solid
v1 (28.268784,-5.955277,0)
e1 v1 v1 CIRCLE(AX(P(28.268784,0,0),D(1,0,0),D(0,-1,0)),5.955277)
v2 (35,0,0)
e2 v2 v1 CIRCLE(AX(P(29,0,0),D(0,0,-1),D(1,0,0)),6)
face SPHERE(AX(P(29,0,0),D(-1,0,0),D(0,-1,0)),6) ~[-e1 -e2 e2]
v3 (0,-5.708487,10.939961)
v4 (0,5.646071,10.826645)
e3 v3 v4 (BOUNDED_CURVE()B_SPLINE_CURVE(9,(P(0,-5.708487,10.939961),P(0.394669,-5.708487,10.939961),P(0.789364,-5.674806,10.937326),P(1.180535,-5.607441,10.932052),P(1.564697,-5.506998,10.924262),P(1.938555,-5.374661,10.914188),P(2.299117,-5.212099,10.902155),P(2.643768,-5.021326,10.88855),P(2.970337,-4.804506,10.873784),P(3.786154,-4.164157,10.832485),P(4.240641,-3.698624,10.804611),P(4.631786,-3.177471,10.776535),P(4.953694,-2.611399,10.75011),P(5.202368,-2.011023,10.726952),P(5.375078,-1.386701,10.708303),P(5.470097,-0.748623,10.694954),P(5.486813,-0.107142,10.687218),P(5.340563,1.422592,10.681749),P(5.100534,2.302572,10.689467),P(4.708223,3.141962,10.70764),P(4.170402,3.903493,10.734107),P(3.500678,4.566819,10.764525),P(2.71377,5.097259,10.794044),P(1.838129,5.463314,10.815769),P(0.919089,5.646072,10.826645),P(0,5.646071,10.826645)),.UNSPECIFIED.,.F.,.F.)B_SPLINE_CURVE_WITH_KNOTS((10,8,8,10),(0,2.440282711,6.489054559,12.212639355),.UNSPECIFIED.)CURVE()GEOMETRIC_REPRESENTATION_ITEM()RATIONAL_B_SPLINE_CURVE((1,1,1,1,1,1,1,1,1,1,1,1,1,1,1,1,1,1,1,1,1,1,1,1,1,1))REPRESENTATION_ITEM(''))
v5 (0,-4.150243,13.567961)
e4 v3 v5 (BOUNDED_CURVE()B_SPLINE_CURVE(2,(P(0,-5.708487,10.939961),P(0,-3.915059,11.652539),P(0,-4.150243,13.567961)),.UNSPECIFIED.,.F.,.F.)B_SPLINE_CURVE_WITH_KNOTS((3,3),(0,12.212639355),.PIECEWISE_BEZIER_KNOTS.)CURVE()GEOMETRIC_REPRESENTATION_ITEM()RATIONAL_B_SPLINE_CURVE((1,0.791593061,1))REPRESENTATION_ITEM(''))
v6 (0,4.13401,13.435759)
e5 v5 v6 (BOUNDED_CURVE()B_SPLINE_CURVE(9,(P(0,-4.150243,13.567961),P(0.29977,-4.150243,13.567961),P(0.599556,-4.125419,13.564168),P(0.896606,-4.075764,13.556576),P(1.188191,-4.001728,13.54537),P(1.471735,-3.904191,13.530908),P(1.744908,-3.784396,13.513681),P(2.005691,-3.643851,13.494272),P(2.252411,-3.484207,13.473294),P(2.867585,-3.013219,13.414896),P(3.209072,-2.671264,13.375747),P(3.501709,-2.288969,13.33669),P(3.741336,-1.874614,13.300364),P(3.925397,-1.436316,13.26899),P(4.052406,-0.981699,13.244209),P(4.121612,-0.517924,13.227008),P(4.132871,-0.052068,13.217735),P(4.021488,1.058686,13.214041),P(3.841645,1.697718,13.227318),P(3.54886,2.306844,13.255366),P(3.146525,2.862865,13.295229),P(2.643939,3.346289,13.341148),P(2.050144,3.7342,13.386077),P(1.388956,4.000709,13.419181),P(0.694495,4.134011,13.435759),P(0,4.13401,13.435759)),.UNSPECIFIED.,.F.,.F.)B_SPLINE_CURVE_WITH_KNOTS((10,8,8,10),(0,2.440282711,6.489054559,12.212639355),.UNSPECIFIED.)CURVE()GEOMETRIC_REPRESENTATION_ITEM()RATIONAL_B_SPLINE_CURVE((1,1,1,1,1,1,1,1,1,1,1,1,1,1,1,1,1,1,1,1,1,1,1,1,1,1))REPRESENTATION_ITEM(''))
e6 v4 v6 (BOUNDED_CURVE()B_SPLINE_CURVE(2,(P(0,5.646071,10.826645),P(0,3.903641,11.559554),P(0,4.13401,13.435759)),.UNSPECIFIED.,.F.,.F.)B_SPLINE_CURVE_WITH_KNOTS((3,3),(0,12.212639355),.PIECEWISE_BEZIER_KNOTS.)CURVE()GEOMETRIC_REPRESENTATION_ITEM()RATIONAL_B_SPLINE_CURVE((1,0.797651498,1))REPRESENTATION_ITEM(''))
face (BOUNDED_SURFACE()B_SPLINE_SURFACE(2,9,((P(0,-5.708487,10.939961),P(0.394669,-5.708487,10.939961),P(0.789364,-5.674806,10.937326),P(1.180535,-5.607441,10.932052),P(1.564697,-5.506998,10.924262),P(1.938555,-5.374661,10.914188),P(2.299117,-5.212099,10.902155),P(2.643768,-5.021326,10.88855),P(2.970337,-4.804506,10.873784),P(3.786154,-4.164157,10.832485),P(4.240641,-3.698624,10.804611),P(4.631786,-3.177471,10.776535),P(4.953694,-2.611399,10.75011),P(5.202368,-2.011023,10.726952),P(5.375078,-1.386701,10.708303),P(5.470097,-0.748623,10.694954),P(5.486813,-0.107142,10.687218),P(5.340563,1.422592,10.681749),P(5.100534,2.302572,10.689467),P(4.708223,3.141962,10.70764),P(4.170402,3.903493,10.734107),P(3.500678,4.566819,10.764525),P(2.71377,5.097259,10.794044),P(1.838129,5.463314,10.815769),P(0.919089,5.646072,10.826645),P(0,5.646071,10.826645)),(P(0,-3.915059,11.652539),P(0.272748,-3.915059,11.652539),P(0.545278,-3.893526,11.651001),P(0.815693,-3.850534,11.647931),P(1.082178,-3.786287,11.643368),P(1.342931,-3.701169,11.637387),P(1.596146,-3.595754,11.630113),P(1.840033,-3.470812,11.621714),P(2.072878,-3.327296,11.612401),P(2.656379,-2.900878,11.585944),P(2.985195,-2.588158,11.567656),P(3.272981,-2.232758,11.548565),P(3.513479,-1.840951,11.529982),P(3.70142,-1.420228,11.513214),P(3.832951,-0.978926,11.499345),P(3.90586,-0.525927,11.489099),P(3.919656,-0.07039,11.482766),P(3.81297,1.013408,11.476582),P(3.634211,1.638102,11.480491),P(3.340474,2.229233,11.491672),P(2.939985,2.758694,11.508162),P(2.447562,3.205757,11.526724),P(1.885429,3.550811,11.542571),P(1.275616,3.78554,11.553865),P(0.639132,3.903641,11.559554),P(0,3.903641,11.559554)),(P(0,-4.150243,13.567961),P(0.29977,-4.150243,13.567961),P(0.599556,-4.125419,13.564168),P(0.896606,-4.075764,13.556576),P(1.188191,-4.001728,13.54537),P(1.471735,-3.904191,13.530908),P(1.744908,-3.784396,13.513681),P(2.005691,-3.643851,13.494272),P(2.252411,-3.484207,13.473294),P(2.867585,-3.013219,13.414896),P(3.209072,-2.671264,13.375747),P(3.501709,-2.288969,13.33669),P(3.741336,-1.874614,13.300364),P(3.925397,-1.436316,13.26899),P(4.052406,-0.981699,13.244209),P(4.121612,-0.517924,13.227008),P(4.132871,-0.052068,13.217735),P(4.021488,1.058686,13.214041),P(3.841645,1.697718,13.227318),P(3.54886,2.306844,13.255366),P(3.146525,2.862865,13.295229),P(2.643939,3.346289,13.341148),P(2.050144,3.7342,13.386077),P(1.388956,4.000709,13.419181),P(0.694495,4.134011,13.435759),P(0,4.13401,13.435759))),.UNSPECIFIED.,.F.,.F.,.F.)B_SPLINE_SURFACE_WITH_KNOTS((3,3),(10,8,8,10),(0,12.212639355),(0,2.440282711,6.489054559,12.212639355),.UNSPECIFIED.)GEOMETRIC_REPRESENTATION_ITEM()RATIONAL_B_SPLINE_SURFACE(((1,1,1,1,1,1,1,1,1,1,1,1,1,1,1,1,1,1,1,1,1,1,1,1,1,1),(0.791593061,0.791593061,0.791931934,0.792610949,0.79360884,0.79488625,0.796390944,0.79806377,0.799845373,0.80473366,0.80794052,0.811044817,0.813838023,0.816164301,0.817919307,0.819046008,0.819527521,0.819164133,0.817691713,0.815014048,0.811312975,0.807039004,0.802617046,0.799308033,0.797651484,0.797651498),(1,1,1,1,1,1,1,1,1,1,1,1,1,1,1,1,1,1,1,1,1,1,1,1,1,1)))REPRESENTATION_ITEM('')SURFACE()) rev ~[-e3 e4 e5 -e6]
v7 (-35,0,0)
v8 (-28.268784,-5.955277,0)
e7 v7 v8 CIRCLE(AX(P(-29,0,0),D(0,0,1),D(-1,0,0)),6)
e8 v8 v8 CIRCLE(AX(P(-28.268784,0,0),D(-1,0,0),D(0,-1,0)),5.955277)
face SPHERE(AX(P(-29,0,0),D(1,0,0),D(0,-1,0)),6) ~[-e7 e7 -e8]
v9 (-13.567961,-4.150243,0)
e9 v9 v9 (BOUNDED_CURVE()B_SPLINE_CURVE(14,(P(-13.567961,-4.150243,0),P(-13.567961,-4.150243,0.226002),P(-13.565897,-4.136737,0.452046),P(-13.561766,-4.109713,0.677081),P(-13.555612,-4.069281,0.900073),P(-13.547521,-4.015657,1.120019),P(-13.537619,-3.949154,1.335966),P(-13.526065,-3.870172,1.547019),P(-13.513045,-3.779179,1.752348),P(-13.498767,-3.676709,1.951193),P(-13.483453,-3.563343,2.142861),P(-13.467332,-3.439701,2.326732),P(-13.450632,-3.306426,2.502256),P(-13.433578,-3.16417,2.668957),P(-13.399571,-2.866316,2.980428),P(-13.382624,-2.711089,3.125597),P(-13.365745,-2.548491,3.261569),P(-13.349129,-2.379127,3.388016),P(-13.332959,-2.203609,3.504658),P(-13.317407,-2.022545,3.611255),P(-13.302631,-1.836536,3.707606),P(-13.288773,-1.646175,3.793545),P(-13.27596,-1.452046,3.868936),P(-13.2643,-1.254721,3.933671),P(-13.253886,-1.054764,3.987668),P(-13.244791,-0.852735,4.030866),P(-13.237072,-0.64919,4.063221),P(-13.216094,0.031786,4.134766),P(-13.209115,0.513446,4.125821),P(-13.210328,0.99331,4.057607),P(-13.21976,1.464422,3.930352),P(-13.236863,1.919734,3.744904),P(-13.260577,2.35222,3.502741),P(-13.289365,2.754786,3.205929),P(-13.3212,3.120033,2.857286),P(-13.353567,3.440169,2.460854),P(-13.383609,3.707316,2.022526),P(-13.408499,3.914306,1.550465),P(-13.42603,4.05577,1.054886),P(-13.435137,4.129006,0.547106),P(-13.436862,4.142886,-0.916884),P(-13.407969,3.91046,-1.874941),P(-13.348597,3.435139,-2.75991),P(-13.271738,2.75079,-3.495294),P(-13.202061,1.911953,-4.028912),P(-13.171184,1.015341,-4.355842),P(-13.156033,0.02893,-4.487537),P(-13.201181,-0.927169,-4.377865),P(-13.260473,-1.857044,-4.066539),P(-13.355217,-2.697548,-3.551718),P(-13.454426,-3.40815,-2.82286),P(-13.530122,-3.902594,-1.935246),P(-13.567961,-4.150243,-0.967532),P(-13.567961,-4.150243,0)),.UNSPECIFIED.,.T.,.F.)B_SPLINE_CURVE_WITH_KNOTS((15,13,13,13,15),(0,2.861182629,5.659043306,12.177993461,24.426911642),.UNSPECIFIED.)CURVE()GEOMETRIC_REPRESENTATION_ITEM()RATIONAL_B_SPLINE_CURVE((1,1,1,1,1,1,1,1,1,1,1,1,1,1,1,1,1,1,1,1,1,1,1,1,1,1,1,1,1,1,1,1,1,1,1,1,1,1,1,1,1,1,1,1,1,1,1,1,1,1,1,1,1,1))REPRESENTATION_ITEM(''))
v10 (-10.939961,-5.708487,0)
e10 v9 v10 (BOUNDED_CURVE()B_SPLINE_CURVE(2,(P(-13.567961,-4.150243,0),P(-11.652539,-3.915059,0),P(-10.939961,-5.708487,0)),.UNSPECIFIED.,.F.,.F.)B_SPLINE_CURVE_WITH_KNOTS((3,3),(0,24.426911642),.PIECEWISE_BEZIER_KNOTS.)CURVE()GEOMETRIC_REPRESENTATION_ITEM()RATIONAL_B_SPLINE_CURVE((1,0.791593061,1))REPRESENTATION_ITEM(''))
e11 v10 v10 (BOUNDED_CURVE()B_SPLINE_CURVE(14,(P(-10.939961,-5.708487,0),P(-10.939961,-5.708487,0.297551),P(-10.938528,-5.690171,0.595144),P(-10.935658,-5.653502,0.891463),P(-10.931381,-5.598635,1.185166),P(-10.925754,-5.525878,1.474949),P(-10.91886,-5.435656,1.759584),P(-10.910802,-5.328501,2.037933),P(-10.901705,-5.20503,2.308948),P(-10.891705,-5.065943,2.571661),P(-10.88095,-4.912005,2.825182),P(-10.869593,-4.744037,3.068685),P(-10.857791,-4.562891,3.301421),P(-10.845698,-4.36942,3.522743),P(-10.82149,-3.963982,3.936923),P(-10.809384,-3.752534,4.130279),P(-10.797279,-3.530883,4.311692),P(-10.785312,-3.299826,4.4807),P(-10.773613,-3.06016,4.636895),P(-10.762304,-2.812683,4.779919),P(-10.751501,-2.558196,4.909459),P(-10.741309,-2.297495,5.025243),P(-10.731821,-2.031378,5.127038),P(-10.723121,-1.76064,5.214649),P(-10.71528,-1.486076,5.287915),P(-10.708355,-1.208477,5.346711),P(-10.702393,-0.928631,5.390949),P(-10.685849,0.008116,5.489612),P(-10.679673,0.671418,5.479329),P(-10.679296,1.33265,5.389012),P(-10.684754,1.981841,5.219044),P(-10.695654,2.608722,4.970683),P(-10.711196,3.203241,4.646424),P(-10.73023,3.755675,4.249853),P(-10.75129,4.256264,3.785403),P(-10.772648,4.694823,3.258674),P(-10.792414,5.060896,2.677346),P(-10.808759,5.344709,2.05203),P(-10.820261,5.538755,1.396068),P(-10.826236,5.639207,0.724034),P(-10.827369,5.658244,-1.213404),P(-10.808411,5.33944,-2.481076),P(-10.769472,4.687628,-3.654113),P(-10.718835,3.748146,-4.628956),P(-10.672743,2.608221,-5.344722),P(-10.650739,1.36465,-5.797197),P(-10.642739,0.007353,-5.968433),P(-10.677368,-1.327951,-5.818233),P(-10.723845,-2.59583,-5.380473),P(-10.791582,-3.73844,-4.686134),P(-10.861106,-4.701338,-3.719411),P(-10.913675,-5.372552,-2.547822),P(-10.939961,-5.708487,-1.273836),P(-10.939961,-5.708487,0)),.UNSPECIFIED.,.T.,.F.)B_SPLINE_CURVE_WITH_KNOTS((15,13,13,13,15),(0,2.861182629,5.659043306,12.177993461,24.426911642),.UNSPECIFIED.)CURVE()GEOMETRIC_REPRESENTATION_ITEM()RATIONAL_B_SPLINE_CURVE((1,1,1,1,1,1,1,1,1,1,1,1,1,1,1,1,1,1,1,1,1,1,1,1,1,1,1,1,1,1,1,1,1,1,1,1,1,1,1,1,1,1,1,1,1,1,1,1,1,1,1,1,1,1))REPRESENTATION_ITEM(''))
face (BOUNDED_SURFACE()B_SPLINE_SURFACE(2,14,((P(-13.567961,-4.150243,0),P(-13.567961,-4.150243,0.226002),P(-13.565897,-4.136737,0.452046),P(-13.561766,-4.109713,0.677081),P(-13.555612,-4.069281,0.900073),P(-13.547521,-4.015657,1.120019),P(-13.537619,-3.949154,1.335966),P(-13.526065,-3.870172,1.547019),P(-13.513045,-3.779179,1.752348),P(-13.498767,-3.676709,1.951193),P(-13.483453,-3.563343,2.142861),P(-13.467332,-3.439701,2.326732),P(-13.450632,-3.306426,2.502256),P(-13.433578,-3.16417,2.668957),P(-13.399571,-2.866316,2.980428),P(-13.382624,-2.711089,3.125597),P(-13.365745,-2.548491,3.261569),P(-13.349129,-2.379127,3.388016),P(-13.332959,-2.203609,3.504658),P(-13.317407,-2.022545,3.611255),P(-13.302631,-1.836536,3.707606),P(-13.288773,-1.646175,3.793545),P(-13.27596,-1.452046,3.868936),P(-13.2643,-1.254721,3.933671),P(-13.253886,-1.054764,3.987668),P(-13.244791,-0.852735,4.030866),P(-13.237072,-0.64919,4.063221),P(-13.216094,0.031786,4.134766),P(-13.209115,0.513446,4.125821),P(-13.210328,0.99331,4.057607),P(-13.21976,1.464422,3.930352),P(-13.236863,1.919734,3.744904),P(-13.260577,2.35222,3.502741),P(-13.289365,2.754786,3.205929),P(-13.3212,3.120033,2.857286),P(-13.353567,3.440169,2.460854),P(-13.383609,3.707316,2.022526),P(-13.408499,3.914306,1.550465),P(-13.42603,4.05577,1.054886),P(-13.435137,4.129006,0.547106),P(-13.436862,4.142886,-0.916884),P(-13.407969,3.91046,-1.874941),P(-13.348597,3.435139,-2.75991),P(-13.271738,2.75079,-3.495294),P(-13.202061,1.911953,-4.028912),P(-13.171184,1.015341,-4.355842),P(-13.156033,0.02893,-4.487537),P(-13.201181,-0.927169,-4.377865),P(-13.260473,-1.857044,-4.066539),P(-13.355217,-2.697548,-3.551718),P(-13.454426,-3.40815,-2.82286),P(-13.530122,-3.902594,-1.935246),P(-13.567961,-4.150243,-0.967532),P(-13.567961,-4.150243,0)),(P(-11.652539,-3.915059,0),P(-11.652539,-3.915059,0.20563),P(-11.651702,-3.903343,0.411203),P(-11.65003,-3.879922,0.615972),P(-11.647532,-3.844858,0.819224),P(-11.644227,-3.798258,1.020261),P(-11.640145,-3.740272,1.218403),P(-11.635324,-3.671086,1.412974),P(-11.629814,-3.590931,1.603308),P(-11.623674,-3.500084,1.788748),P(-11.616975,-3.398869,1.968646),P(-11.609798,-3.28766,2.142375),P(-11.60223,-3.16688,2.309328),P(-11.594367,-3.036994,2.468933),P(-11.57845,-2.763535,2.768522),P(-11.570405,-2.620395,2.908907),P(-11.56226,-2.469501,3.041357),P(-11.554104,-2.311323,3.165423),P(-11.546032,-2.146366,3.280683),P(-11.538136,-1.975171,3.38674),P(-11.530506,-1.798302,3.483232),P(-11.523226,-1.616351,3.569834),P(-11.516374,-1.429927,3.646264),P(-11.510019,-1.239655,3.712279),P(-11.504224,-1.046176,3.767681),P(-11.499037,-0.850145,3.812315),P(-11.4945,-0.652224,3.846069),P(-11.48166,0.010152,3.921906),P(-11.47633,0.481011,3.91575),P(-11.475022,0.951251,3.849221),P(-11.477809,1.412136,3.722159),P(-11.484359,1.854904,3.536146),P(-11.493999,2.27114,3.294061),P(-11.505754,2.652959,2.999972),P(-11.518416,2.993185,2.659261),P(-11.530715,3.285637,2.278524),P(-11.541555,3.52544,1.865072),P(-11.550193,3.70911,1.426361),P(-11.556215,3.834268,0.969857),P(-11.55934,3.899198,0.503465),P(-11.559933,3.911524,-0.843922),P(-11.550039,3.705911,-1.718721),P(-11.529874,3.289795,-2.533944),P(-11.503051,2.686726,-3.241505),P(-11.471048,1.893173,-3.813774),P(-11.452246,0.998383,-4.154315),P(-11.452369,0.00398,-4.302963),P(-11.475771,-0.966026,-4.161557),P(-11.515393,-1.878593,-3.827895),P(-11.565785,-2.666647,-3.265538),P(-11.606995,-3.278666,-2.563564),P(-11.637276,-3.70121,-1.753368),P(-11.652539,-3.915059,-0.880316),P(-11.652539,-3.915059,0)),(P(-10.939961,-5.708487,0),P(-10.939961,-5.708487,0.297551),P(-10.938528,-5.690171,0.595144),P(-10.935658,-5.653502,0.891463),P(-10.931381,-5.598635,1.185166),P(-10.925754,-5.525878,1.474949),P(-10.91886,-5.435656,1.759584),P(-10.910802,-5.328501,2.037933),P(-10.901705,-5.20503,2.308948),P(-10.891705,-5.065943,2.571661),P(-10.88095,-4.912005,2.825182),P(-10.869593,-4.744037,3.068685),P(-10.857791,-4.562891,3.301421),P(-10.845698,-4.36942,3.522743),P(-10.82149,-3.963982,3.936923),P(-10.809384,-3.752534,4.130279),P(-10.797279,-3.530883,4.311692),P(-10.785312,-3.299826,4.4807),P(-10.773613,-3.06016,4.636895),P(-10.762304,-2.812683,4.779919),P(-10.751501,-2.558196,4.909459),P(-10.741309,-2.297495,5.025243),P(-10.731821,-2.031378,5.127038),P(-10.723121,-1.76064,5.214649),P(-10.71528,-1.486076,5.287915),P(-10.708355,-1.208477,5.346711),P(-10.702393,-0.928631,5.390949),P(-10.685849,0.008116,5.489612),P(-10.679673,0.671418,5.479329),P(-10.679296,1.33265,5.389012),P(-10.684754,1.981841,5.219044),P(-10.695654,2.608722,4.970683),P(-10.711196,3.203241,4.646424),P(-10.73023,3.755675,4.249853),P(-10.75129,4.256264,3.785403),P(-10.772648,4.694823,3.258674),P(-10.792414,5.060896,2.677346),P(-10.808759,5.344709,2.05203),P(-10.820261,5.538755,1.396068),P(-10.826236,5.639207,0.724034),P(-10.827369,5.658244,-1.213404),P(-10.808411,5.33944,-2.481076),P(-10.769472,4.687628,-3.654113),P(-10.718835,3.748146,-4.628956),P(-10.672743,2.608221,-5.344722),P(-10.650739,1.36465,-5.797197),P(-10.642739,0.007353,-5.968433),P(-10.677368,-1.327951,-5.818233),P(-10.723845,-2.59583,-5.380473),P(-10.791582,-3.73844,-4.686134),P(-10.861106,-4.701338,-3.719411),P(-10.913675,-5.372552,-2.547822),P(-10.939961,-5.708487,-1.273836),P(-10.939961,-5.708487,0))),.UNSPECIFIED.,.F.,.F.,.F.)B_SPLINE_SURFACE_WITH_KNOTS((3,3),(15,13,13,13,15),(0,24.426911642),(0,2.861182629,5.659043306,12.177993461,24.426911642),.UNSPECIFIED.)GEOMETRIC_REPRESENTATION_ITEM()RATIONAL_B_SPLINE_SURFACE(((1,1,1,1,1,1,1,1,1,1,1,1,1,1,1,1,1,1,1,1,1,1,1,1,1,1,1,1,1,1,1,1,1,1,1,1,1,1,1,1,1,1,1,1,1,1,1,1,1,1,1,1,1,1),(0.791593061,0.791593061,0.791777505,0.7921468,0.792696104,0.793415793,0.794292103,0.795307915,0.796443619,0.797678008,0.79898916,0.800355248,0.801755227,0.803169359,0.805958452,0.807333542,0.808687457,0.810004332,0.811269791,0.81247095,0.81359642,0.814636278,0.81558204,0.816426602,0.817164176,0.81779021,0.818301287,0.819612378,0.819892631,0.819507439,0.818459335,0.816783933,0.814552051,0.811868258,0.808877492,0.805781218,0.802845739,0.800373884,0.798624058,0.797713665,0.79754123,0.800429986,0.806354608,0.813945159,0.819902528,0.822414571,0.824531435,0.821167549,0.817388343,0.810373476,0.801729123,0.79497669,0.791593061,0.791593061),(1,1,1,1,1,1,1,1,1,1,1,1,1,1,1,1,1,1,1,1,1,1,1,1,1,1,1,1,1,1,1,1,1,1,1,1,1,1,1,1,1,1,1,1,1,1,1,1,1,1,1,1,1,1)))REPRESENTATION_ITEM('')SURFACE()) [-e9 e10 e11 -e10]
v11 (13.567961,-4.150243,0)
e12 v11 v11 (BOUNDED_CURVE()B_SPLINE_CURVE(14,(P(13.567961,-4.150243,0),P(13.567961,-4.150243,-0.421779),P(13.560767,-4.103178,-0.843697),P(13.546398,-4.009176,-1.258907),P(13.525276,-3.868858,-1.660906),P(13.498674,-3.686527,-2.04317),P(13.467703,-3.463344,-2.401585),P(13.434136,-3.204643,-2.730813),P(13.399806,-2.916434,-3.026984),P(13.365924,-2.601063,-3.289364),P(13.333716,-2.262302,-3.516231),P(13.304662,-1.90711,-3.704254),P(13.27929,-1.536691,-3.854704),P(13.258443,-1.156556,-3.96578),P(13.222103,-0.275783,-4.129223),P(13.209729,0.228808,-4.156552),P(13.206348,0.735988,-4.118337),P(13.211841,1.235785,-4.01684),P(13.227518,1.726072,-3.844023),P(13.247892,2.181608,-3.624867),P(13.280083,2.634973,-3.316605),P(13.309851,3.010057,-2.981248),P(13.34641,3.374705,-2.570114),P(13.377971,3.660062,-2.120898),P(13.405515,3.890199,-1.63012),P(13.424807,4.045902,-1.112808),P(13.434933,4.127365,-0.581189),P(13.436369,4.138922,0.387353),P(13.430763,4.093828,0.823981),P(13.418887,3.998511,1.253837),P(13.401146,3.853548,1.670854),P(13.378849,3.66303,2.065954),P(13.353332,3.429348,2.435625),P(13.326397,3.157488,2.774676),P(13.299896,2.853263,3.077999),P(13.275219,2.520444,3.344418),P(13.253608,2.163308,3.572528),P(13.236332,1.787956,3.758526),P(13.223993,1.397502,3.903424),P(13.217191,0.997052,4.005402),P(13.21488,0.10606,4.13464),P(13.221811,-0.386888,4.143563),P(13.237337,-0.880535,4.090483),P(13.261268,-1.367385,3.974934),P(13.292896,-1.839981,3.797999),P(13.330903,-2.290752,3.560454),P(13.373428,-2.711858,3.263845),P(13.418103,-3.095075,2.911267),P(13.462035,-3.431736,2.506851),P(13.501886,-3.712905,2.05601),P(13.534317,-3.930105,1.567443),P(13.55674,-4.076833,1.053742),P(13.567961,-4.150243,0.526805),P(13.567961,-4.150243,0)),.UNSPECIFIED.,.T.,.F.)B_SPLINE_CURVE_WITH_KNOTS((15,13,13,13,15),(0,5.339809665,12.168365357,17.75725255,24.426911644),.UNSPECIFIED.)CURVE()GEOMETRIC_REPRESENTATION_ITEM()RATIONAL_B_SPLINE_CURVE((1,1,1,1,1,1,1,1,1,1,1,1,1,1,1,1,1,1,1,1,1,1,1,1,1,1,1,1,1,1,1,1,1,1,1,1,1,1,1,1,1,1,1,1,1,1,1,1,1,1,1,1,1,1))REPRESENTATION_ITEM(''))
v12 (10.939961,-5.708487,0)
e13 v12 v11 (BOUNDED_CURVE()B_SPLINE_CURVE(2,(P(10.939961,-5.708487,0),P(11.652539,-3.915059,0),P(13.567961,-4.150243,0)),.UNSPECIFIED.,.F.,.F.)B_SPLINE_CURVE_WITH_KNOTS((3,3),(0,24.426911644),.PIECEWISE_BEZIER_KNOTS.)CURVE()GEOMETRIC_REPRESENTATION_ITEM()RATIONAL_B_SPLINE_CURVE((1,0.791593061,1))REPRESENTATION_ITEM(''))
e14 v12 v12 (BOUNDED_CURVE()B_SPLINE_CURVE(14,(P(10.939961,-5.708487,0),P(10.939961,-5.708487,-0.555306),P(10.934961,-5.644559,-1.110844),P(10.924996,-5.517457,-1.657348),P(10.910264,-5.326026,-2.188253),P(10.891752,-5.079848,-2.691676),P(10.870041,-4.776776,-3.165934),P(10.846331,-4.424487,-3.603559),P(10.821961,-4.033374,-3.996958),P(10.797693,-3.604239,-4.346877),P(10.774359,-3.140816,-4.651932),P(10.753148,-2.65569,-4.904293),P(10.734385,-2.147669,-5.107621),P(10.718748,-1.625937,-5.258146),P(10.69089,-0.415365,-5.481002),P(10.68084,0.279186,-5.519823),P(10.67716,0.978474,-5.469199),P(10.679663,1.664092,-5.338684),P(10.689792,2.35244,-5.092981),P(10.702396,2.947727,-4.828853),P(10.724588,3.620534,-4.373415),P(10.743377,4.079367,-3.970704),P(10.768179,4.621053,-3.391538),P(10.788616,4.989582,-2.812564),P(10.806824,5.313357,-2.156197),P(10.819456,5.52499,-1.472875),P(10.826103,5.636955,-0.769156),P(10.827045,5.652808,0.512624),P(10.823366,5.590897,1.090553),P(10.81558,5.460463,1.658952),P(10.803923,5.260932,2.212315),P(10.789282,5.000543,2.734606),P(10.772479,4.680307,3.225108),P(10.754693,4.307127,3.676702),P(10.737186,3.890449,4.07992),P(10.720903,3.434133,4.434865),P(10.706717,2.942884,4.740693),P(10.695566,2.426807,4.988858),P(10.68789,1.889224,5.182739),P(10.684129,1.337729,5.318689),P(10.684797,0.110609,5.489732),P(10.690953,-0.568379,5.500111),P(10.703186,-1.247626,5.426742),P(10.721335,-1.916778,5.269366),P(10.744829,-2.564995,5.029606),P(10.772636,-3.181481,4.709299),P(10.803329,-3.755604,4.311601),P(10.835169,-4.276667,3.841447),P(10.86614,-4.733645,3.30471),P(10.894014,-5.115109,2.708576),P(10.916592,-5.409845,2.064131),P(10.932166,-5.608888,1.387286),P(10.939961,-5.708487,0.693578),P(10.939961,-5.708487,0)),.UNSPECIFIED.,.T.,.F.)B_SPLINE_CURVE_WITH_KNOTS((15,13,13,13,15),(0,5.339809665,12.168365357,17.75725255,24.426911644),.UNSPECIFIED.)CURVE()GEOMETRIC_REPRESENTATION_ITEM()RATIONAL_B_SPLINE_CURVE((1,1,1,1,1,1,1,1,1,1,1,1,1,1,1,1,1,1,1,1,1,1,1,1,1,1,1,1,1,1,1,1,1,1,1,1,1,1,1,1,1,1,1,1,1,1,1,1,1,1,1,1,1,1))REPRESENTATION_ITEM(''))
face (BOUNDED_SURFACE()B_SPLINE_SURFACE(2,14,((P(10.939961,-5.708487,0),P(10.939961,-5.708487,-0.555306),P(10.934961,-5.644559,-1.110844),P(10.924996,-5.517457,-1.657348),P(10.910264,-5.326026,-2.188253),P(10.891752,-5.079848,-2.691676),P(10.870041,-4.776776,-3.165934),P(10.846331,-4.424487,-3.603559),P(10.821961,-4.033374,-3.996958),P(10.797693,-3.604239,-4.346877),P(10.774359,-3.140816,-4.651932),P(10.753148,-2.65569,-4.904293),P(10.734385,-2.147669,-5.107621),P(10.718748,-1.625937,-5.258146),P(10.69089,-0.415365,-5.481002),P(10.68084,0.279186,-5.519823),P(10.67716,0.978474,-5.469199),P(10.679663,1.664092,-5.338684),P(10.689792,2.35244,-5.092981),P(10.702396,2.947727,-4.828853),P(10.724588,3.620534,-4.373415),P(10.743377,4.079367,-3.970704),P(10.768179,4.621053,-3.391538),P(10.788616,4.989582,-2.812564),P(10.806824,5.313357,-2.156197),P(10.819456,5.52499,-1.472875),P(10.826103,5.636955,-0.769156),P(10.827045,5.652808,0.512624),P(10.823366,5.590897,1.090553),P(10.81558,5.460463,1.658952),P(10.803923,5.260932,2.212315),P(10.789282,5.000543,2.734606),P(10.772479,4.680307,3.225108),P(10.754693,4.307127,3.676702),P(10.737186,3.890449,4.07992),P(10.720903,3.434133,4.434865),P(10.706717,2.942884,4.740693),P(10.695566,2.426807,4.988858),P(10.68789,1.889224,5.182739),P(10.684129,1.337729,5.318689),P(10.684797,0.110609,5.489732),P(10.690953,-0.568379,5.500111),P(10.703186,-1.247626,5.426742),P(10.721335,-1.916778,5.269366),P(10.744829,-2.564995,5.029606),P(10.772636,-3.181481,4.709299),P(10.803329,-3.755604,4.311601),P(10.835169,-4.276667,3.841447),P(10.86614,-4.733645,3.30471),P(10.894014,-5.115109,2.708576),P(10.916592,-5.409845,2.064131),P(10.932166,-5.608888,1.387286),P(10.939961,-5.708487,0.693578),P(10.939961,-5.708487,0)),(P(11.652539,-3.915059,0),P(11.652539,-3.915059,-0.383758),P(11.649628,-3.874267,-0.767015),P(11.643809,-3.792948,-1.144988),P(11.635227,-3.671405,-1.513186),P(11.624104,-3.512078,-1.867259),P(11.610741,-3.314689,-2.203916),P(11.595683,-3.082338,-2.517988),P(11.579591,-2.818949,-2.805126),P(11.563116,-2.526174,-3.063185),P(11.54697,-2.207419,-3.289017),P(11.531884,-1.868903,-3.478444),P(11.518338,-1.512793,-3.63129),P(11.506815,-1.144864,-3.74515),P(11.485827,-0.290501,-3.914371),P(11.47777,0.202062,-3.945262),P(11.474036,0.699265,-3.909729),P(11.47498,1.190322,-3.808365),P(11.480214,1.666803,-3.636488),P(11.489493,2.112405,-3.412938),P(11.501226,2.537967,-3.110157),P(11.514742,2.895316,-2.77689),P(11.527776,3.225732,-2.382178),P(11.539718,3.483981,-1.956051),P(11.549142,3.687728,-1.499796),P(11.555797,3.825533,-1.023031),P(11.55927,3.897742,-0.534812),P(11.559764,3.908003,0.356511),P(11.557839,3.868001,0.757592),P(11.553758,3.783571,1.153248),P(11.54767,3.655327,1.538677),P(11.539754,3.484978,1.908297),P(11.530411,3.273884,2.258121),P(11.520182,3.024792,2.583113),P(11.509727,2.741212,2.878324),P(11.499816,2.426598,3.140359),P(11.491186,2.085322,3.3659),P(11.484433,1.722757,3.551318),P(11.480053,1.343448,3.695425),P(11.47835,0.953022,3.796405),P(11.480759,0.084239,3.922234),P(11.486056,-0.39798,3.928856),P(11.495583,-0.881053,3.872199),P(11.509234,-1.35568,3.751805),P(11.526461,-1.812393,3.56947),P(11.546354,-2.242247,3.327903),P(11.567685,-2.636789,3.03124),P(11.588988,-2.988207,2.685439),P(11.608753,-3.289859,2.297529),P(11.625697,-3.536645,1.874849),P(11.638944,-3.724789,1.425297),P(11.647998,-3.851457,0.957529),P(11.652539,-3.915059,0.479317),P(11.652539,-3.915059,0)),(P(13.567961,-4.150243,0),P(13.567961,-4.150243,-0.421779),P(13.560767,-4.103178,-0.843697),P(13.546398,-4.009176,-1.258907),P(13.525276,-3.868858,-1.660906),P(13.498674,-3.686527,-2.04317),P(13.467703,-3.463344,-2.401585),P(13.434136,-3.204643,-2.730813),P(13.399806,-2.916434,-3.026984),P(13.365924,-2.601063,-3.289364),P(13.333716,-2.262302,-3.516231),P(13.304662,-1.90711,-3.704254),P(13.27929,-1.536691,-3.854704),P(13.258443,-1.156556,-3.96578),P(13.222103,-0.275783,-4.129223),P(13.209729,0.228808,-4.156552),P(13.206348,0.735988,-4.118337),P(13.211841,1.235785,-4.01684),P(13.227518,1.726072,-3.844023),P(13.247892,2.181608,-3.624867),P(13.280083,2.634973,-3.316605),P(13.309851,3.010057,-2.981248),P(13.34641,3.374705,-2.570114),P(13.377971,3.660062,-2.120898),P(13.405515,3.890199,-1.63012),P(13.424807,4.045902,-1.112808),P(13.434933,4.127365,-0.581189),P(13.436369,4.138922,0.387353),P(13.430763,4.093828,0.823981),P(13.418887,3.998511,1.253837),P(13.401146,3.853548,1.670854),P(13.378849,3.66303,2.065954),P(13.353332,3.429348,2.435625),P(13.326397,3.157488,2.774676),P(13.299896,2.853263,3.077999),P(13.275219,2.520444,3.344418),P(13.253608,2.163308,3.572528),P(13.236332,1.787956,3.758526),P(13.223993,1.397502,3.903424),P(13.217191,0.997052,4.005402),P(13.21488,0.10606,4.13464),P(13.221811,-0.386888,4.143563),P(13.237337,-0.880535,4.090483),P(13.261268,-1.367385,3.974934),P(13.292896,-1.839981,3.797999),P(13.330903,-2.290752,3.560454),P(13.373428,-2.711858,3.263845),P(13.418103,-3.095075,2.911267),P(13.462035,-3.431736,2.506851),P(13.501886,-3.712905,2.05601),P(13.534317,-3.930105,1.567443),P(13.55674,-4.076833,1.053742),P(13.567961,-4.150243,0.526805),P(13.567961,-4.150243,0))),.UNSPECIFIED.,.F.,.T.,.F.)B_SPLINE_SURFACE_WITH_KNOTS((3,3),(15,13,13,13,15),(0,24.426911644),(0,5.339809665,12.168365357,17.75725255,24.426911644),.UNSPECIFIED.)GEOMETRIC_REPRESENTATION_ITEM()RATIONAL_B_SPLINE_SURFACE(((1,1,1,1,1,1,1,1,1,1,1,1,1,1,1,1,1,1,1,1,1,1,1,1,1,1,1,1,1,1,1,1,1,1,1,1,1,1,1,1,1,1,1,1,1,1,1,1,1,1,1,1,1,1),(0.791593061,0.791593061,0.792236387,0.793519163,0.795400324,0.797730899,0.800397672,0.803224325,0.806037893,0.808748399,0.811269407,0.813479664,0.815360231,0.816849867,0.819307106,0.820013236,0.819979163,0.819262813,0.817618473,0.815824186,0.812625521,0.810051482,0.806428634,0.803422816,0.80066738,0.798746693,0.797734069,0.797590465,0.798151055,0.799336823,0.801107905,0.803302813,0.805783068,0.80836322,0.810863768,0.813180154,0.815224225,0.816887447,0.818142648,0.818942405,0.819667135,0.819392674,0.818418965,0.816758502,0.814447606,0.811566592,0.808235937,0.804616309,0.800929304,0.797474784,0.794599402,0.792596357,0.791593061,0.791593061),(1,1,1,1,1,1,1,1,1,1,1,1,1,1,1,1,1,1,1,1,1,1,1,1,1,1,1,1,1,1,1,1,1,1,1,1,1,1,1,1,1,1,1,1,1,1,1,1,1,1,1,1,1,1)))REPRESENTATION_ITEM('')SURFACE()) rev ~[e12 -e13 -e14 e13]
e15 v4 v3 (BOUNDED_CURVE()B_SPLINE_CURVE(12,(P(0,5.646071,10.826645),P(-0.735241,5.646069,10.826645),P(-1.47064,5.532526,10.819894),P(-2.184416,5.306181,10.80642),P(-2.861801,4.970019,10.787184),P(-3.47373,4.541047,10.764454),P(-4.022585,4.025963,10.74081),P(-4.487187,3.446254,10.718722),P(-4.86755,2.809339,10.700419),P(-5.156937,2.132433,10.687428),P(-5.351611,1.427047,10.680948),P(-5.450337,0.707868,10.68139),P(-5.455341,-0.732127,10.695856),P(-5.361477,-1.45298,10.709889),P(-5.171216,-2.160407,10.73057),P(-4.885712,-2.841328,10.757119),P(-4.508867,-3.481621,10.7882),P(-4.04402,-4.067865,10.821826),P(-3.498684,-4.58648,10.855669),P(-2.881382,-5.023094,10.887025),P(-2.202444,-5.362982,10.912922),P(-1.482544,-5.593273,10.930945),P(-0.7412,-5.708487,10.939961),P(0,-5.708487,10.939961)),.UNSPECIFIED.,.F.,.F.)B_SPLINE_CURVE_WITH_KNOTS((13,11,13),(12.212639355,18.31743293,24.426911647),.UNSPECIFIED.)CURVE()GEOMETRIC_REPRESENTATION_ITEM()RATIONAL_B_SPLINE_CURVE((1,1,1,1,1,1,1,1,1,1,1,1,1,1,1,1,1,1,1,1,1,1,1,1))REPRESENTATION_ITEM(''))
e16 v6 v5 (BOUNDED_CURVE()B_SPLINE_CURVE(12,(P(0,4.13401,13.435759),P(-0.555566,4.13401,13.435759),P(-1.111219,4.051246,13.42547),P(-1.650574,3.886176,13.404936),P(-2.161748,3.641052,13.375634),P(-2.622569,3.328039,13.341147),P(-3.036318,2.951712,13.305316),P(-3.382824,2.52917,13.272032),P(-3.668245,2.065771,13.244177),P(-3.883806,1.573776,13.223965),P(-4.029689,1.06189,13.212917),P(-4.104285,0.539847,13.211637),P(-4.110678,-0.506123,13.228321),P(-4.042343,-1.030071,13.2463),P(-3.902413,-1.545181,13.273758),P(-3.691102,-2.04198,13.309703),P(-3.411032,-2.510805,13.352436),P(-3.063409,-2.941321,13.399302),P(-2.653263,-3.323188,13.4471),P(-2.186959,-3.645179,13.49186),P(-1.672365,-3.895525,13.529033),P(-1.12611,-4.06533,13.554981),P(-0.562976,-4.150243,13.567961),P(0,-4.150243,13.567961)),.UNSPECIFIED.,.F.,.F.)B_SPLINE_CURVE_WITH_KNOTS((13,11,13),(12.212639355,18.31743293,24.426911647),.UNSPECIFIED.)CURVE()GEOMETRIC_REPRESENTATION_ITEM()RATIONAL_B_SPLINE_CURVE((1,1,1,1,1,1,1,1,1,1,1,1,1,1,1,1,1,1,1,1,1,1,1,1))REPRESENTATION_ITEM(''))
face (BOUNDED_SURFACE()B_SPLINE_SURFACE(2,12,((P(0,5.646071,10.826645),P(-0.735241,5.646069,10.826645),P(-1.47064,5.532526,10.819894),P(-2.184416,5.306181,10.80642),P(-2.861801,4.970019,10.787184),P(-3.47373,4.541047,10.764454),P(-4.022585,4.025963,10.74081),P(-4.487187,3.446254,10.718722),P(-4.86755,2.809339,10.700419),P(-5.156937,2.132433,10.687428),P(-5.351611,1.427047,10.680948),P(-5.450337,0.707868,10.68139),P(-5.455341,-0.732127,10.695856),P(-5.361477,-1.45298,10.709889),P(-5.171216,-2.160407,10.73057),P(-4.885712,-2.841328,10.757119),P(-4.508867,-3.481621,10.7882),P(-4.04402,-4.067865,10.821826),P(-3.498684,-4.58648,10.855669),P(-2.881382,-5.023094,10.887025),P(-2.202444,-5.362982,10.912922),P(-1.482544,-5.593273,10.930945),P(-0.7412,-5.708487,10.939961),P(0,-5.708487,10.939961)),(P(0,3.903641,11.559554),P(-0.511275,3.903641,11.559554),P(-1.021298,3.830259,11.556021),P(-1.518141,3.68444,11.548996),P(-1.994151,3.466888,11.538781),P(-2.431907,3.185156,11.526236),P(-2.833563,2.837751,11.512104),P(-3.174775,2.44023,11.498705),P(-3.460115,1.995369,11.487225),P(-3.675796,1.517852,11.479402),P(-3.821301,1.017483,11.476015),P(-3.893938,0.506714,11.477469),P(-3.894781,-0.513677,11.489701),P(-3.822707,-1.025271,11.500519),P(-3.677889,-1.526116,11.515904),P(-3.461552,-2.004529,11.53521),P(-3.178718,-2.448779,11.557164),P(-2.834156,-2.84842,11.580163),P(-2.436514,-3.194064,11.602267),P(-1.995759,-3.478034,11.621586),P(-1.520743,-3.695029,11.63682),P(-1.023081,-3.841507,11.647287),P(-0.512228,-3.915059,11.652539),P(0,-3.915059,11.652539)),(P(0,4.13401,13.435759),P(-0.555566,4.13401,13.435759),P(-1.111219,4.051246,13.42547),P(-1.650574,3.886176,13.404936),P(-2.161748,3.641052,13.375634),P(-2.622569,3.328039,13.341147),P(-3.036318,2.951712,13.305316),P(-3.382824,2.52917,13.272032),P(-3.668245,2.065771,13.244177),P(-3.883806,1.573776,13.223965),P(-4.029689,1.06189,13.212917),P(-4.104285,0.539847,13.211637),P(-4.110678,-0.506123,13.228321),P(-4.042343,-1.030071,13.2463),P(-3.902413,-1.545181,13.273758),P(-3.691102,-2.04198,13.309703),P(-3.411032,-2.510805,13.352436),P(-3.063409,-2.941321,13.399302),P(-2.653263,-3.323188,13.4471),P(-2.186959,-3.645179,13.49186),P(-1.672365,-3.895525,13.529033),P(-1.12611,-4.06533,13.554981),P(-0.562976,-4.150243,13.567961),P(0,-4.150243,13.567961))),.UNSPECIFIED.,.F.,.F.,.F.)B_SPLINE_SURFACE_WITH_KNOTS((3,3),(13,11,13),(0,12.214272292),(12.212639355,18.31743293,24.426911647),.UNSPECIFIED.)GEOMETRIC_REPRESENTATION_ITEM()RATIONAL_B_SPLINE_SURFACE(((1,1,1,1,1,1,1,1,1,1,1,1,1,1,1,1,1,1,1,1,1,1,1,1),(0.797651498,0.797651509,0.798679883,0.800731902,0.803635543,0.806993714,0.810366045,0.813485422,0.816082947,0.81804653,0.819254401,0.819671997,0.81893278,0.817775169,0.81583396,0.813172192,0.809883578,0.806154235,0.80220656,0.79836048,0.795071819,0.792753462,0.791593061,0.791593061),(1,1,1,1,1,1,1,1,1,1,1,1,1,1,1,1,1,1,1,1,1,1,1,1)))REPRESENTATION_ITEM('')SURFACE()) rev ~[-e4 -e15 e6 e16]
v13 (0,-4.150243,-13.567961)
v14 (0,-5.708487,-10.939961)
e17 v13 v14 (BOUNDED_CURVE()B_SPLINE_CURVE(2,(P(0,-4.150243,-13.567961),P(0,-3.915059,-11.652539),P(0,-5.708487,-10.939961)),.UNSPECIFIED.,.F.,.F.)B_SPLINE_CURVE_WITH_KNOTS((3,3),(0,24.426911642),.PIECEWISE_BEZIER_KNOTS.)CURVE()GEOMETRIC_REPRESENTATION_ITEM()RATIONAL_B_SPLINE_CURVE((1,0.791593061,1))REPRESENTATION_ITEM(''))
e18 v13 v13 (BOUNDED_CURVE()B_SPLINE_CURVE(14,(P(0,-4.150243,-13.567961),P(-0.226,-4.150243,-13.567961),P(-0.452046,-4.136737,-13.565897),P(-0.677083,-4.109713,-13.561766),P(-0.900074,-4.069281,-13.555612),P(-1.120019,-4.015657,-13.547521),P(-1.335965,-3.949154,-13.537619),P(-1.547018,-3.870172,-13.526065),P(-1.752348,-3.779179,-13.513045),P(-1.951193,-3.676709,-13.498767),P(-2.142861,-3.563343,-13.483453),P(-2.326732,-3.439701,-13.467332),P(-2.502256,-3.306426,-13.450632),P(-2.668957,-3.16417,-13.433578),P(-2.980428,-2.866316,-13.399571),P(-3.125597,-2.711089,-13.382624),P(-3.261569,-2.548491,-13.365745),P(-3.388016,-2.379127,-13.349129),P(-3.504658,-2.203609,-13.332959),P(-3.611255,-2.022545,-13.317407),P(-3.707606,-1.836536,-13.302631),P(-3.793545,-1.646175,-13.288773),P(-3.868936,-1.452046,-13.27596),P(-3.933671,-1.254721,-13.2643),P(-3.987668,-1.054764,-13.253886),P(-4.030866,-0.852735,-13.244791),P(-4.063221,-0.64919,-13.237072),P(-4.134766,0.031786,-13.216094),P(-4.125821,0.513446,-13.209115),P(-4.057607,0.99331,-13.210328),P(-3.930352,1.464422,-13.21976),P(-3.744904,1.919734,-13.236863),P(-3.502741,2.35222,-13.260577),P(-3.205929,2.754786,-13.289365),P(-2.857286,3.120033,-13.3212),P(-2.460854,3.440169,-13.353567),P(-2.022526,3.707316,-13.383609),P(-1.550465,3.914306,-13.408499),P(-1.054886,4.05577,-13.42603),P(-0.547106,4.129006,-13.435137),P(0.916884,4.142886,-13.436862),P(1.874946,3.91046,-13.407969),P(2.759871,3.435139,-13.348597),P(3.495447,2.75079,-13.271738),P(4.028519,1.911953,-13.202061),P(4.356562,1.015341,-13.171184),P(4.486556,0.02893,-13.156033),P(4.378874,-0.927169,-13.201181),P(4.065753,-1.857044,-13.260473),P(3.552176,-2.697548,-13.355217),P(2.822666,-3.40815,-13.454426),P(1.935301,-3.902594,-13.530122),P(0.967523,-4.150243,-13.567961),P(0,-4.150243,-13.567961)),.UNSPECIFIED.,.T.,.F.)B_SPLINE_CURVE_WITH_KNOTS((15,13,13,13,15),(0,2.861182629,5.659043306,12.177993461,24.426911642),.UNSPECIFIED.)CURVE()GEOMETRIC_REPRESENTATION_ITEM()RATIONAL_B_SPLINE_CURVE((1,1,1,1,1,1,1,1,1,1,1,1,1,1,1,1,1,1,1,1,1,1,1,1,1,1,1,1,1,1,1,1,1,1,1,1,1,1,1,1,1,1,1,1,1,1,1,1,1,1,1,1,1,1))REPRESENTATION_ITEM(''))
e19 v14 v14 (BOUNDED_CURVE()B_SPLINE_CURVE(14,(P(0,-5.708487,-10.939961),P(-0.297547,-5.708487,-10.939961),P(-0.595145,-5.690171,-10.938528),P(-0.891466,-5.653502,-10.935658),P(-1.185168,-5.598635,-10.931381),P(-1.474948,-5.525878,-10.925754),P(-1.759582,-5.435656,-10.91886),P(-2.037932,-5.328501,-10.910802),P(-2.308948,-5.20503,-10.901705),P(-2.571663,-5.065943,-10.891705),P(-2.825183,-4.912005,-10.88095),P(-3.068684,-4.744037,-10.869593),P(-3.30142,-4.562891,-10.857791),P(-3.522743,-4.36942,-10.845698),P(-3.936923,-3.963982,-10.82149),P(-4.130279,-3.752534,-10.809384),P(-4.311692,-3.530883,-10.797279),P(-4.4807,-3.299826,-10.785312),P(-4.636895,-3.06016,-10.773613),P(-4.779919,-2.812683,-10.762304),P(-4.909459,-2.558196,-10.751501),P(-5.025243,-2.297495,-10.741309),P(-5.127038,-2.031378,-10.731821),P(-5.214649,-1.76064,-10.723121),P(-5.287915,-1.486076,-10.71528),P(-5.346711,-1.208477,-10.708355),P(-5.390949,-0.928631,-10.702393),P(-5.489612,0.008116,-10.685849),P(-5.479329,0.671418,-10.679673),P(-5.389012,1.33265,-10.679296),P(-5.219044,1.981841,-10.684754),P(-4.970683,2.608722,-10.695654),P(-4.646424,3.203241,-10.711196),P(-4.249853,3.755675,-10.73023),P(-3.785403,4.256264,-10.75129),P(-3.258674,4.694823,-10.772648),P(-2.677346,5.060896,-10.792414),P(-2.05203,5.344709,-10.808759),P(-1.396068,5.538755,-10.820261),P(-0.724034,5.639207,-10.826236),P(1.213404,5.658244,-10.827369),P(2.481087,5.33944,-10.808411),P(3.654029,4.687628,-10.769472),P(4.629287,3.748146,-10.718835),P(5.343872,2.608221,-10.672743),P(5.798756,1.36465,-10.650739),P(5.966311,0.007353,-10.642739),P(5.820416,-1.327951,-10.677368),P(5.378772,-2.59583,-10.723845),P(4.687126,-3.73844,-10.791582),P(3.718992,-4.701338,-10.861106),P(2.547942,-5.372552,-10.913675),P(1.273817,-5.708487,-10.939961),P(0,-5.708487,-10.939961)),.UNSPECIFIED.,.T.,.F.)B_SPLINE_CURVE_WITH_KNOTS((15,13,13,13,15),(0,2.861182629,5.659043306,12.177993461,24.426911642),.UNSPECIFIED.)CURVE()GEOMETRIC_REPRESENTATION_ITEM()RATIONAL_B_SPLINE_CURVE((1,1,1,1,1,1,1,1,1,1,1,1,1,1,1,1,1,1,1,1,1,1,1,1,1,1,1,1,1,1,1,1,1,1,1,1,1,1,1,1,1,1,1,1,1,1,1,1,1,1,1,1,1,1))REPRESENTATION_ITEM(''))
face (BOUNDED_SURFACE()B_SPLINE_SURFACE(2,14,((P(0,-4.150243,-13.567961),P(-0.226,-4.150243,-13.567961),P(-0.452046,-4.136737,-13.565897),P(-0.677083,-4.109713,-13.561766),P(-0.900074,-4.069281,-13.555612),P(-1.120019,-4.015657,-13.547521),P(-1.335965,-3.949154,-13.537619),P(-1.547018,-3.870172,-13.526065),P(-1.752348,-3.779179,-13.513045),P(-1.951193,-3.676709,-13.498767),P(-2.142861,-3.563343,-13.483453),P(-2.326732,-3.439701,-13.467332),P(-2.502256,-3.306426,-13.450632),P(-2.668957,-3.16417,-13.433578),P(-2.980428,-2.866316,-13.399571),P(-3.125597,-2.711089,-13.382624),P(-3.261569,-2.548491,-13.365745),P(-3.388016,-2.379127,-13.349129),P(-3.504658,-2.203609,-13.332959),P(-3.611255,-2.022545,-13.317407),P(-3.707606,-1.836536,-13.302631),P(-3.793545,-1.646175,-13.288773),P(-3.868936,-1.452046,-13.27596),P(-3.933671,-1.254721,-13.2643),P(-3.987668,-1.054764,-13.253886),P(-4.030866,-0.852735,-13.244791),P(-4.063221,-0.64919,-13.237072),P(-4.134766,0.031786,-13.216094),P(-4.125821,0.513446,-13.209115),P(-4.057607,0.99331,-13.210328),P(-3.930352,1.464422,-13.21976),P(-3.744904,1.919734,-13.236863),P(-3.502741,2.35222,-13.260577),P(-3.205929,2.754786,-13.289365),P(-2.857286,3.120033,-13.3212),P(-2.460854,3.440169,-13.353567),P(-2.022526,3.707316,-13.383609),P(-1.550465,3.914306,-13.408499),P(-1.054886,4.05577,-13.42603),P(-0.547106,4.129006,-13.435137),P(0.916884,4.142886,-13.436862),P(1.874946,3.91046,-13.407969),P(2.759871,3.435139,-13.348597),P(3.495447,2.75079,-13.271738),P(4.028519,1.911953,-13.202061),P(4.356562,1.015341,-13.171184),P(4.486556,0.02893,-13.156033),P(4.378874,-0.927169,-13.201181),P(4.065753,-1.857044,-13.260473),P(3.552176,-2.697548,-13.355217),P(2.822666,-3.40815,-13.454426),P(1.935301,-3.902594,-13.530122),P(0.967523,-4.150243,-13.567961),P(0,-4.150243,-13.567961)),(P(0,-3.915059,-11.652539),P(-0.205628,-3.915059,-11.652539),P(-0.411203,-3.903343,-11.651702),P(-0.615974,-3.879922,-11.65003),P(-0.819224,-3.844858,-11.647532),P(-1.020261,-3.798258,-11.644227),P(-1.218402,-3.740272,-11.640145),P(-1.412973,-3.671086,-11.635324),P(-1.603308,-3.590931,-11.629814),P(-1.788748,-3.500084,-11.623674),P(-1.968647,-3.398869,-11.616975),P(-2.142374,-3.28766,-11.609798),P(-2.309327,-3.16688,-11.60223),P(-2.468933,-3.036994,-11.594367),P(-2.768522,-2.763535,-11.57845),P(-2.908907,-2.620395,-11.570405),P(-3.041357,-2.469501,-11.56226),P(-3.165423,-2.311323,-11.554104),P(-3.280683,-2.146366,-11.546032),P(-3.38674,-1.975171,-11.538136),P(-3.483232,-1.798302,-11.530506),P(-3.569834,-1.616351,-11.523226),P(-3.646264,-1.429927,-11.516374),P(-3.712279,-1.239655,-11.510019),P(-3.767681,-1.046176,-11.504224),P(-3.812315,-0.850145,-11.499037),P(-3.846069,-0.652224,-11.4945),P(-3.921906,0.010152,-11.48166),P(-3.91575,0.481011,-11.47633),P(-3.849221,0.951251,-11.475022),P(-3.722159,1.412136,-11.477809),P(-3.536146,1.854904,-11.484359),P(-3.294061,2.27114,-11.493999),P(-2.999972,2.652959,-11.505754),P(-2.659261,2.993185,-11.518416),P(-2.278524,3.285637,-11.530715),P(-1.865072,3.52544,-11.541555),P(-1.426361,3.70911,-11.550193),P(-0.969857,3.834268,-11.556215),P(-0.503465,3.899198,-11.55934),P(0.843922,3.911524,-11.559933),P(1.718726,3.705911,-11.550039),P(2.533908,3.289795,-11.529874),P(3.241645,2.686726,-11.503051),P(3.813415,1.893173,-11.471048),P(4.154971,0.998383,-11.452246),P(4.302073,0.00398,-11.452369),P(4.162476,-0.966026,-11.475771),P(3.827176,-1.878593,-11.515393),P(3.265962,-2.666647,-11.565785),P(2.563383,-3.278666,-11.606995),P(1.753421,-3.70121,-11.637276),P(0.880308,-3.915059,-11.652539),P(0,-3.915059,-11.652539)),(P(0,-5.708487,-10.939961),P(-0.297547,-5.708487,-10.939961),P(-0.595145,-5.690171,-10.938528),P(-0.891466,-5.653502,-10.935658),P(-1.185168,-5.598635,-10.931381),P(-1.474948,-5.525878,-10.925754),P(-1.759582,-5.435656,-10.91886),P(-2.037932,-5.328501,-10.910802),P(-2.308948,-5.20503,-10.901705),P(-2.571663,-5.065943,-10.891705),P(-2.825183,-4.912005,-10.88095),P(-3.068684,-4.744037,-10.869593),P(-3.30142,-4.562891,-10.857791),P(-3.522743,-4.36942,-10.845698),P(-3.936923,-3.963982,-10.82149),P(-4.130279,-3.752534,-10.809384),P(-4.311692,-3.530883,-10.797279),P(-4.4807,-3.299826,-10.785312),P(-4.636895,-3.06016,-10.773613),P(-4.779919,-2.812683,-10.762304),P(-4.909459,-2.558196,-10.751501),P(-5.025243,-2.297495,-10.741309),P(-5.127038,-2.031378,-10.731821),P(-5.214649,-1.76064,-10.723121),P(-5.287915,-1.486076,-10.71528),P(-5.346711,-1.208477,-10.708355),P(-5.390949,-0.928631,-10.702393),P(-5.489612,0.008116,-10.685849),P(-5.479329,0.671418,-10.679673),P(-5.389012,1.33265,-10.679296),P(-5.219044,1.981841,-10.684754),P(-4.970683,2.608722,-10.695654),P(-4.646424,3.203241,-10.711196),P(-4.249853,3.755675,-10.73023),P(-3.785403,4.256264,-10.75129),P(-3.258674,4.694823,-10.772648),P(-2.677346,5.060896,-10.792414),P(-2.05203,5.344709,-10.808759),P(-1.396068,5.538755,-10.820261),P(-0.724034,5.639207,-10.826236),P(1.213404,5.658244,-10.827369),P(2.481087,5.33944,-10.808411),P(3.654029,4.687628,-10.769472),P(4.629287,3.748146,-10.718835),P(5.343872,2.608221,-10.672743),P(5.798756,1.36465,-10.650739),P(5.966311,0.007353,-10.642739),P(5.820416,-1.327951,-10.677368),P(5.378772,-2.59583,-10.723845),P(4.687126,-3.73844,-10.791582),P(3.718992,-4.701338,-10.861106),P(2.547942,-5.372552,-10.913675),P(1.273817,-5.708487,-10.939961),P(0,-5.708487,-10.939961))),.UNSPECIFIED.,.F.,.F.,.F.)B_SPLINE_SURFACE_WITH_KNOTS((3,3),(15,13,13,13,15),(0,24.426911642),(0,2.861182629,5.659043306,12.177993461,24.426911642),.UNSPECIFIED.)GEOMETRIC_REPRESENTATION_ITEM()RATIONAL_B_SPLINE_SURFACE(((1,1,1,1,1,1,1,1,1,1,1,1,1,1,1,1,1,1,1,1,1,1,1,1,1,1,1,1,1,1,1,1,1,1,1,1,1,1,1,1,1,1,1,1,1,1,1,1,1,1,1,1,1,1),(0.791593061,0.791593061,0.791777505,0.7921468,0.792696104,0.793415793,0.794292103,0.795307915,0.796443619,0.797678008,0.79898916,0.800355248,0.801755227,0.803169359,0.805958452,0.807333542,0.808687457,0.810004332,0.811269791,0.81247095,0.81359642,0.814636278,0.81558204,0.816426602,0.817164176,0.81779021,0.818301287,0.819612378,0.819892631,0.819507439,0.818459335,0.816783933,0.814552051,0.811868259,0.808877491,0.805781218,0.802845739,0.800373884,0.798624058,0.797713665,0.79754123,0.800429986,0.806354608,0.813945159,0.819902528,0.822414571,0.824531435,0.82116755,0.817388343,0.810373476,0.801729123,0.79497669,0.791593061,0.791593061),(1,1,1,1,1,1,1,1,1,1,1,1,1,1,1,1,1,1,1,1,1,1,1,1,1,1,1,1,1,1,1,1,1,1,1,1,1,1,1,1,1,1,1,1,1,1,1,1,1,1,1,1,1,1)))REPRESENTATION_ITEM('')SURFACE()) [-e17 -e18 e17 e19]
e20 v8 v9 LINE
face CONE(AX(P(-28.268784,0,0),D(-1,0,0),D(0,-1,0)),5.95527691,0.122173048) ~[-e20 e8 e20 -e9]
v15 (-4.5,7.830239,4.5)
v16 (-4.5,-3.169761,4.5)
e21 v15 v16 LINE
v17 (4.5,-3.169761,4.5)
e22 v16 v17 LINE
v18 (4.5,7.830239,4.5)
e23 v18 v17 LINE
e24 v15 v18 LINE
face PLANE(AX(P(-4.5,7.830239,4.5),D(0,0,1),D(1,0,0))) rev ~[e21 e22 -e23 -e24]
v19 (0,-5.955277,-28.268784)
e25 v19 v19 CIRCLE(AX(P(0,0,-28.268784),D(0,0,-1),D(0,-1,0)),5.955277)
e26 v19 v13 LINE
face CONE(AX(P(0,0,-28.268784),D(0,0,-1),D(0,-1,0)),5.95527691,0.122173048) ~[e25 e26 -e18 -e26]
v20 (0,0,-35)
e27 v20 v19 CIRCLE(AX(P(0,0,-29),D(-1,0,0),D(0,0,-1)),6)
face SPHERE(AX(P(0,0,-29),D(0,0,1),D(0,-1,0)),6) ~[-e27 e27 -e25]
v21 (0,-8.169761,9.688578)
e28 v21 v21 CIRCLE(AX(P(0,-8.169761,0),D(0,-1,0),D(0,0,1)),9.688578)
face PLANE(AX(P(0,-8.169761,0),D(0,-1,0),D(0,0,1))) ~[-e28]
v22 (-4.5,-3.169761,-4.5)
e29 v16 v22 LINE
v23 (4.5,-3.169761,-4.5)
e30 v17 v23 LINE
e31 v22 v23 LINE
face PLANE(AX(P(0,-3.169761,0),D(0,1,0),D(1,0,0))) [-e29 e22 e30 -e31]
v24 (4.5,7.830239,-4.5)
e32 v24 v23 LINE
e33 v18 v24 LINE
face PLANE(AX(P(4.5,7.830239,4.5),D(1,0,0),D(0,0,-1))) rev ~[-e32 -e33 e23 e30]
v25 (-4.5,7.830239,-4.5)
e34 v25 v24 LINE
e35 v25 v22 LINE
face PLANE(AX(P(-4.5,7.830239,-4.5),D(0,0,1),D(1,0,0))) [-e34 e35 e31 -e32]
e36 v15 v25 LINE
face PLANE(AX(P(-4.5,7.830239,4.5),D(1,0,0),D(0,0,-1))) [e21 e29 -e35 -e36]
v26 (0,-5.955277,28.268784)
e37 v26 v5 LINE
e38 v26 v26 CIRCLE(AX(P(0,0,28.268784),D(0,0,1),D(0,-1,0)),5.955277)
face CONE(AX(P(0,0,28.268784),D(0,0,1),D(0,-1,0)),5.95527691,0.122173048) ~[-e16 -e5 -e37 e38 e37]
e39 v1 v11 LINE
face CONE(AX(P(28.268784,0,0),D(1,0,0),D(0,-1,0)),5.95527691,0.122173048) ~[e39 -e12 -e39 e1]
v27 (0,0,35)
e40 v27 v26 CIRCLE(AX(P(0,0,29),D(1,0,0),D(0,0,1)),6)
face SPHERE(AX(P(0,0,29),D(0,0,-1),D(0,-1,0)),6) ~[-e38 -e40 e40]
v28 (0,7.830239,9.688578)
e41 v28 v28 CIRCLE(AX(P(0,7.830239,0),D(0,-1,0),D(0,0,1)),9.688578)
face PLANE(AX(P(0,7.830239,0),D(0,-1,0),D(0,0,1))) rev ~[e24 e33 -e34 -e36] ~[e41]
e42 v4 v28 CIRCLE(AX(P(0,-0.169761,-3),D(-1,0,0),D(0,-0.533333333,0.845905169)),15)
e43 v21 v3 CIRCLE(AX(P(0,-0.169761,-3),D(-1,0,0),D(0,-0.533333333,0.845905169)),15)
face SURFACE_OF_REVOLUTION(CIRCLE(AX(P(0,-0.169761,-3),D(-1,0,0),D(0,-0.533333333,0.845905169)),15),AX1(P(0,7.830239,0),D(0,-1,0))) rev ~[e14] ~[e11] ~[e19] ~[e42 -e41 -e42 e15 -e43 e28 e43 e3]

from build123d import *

# Parameters (mm, degrees)
FILLET1_R                = 2.5
CIRPATTERN3_COUNT        = 4
FILLET1_OF_CIRPATTERN3_R = 2.5
SKETCH3_W                = 9
SKETCH3_H                = 9
CUT_EXTRUDE1_DEPTH       = 11


with BuildPart() as part:
    # Sketch1 → Revolve1 (revolve)
    with BuildSketch(Plane.XY, mode=Mode.PRIVATE) as revolve1_sk:
        with BuildLine():
            Line((0, 7.830238727), (0, -8.169761273))
            Line((0, -8.169761273), (-9.68857754, -8.169761273))
            ThreePointArc((-9.68857754, -8.169761273), (-12, -0.169761273), (-9.68857754, 7.830238727))
            Line((-9.68857754, 7.830238727), (0, 7.830238727))
        make_face()
    revolve(revolve1_sk.sketch.rotate(Axis((0, 7.830238727, 0), (0, -1, 0)), 270), axis=Axis((0, 7.830238727, 0), (0, -1, 0)))

    # Sketch2 → Revolve2 (revolve)
    with BuildSketch(Plane.XY):
        with BuildLine():
            Line((0, 0), (-35, 0))
            ThreePointArc((-35, 0), (-32.975720289, -4.493734325), (-28.26878394, -5.95527691))
            Line((-28.26878394, -5.95527691), (0, -2.484306687))
            Line((0, -2.484306687), (0, 0))
        make_face()
    revolve2 = revolve(axis=Axis((0, 0, 0), (-1, 0, 0)))

    # Fillet1
    fillet1_edges = [part.edges().sort_by_distance(p)[0] for p in [
        (-11.440440634, 3.889016163, 1e-09),
    ]]
    fillet(fillet1_edges, radius=FILLET1_R)

    # CirPattern3: Revolve2 ×4 about axis
    cirpattern3_axis = Axis((0, 7.830238727, 0), (0, 1, 0))
    for i in range(1, CIRPATTERN3_COUNT):
        add(revolve2.rotate(cirpattern3_axis, i * 360 / CIRPATTERN3_COUNT))

    # Fillet1 of CirPattern3
    fillet1_of_cirpattern3_edges = [part.edges().sort_by_distance(p)[0] for p in [
        (1e-09, 3.889016163, 11.440440634),
        (11.440440634, 3.889016163, -1e-09),
        (-1e-09, 3.889016163, -11.440440634),
    ]]
    fillet(fillet1_of_cirpattern3_edges, radius=FILLET1_OF_CIRPATTERN3_R)

    # Sketch3 → Cut-Extrude1 (cut)
    with BuildSketch(Plane(origin=(0, 7.830238727, 0), x_dir=(1, 0, 0), z_dir=(0, 1, 0))):
        Rectangle(SKETCH3_W, SKETCH3_H)
    extrude(amount=-CUT_EXTRUDE1_DEPTH, mode=Mode.SUBTRACT)


solid = part.part
